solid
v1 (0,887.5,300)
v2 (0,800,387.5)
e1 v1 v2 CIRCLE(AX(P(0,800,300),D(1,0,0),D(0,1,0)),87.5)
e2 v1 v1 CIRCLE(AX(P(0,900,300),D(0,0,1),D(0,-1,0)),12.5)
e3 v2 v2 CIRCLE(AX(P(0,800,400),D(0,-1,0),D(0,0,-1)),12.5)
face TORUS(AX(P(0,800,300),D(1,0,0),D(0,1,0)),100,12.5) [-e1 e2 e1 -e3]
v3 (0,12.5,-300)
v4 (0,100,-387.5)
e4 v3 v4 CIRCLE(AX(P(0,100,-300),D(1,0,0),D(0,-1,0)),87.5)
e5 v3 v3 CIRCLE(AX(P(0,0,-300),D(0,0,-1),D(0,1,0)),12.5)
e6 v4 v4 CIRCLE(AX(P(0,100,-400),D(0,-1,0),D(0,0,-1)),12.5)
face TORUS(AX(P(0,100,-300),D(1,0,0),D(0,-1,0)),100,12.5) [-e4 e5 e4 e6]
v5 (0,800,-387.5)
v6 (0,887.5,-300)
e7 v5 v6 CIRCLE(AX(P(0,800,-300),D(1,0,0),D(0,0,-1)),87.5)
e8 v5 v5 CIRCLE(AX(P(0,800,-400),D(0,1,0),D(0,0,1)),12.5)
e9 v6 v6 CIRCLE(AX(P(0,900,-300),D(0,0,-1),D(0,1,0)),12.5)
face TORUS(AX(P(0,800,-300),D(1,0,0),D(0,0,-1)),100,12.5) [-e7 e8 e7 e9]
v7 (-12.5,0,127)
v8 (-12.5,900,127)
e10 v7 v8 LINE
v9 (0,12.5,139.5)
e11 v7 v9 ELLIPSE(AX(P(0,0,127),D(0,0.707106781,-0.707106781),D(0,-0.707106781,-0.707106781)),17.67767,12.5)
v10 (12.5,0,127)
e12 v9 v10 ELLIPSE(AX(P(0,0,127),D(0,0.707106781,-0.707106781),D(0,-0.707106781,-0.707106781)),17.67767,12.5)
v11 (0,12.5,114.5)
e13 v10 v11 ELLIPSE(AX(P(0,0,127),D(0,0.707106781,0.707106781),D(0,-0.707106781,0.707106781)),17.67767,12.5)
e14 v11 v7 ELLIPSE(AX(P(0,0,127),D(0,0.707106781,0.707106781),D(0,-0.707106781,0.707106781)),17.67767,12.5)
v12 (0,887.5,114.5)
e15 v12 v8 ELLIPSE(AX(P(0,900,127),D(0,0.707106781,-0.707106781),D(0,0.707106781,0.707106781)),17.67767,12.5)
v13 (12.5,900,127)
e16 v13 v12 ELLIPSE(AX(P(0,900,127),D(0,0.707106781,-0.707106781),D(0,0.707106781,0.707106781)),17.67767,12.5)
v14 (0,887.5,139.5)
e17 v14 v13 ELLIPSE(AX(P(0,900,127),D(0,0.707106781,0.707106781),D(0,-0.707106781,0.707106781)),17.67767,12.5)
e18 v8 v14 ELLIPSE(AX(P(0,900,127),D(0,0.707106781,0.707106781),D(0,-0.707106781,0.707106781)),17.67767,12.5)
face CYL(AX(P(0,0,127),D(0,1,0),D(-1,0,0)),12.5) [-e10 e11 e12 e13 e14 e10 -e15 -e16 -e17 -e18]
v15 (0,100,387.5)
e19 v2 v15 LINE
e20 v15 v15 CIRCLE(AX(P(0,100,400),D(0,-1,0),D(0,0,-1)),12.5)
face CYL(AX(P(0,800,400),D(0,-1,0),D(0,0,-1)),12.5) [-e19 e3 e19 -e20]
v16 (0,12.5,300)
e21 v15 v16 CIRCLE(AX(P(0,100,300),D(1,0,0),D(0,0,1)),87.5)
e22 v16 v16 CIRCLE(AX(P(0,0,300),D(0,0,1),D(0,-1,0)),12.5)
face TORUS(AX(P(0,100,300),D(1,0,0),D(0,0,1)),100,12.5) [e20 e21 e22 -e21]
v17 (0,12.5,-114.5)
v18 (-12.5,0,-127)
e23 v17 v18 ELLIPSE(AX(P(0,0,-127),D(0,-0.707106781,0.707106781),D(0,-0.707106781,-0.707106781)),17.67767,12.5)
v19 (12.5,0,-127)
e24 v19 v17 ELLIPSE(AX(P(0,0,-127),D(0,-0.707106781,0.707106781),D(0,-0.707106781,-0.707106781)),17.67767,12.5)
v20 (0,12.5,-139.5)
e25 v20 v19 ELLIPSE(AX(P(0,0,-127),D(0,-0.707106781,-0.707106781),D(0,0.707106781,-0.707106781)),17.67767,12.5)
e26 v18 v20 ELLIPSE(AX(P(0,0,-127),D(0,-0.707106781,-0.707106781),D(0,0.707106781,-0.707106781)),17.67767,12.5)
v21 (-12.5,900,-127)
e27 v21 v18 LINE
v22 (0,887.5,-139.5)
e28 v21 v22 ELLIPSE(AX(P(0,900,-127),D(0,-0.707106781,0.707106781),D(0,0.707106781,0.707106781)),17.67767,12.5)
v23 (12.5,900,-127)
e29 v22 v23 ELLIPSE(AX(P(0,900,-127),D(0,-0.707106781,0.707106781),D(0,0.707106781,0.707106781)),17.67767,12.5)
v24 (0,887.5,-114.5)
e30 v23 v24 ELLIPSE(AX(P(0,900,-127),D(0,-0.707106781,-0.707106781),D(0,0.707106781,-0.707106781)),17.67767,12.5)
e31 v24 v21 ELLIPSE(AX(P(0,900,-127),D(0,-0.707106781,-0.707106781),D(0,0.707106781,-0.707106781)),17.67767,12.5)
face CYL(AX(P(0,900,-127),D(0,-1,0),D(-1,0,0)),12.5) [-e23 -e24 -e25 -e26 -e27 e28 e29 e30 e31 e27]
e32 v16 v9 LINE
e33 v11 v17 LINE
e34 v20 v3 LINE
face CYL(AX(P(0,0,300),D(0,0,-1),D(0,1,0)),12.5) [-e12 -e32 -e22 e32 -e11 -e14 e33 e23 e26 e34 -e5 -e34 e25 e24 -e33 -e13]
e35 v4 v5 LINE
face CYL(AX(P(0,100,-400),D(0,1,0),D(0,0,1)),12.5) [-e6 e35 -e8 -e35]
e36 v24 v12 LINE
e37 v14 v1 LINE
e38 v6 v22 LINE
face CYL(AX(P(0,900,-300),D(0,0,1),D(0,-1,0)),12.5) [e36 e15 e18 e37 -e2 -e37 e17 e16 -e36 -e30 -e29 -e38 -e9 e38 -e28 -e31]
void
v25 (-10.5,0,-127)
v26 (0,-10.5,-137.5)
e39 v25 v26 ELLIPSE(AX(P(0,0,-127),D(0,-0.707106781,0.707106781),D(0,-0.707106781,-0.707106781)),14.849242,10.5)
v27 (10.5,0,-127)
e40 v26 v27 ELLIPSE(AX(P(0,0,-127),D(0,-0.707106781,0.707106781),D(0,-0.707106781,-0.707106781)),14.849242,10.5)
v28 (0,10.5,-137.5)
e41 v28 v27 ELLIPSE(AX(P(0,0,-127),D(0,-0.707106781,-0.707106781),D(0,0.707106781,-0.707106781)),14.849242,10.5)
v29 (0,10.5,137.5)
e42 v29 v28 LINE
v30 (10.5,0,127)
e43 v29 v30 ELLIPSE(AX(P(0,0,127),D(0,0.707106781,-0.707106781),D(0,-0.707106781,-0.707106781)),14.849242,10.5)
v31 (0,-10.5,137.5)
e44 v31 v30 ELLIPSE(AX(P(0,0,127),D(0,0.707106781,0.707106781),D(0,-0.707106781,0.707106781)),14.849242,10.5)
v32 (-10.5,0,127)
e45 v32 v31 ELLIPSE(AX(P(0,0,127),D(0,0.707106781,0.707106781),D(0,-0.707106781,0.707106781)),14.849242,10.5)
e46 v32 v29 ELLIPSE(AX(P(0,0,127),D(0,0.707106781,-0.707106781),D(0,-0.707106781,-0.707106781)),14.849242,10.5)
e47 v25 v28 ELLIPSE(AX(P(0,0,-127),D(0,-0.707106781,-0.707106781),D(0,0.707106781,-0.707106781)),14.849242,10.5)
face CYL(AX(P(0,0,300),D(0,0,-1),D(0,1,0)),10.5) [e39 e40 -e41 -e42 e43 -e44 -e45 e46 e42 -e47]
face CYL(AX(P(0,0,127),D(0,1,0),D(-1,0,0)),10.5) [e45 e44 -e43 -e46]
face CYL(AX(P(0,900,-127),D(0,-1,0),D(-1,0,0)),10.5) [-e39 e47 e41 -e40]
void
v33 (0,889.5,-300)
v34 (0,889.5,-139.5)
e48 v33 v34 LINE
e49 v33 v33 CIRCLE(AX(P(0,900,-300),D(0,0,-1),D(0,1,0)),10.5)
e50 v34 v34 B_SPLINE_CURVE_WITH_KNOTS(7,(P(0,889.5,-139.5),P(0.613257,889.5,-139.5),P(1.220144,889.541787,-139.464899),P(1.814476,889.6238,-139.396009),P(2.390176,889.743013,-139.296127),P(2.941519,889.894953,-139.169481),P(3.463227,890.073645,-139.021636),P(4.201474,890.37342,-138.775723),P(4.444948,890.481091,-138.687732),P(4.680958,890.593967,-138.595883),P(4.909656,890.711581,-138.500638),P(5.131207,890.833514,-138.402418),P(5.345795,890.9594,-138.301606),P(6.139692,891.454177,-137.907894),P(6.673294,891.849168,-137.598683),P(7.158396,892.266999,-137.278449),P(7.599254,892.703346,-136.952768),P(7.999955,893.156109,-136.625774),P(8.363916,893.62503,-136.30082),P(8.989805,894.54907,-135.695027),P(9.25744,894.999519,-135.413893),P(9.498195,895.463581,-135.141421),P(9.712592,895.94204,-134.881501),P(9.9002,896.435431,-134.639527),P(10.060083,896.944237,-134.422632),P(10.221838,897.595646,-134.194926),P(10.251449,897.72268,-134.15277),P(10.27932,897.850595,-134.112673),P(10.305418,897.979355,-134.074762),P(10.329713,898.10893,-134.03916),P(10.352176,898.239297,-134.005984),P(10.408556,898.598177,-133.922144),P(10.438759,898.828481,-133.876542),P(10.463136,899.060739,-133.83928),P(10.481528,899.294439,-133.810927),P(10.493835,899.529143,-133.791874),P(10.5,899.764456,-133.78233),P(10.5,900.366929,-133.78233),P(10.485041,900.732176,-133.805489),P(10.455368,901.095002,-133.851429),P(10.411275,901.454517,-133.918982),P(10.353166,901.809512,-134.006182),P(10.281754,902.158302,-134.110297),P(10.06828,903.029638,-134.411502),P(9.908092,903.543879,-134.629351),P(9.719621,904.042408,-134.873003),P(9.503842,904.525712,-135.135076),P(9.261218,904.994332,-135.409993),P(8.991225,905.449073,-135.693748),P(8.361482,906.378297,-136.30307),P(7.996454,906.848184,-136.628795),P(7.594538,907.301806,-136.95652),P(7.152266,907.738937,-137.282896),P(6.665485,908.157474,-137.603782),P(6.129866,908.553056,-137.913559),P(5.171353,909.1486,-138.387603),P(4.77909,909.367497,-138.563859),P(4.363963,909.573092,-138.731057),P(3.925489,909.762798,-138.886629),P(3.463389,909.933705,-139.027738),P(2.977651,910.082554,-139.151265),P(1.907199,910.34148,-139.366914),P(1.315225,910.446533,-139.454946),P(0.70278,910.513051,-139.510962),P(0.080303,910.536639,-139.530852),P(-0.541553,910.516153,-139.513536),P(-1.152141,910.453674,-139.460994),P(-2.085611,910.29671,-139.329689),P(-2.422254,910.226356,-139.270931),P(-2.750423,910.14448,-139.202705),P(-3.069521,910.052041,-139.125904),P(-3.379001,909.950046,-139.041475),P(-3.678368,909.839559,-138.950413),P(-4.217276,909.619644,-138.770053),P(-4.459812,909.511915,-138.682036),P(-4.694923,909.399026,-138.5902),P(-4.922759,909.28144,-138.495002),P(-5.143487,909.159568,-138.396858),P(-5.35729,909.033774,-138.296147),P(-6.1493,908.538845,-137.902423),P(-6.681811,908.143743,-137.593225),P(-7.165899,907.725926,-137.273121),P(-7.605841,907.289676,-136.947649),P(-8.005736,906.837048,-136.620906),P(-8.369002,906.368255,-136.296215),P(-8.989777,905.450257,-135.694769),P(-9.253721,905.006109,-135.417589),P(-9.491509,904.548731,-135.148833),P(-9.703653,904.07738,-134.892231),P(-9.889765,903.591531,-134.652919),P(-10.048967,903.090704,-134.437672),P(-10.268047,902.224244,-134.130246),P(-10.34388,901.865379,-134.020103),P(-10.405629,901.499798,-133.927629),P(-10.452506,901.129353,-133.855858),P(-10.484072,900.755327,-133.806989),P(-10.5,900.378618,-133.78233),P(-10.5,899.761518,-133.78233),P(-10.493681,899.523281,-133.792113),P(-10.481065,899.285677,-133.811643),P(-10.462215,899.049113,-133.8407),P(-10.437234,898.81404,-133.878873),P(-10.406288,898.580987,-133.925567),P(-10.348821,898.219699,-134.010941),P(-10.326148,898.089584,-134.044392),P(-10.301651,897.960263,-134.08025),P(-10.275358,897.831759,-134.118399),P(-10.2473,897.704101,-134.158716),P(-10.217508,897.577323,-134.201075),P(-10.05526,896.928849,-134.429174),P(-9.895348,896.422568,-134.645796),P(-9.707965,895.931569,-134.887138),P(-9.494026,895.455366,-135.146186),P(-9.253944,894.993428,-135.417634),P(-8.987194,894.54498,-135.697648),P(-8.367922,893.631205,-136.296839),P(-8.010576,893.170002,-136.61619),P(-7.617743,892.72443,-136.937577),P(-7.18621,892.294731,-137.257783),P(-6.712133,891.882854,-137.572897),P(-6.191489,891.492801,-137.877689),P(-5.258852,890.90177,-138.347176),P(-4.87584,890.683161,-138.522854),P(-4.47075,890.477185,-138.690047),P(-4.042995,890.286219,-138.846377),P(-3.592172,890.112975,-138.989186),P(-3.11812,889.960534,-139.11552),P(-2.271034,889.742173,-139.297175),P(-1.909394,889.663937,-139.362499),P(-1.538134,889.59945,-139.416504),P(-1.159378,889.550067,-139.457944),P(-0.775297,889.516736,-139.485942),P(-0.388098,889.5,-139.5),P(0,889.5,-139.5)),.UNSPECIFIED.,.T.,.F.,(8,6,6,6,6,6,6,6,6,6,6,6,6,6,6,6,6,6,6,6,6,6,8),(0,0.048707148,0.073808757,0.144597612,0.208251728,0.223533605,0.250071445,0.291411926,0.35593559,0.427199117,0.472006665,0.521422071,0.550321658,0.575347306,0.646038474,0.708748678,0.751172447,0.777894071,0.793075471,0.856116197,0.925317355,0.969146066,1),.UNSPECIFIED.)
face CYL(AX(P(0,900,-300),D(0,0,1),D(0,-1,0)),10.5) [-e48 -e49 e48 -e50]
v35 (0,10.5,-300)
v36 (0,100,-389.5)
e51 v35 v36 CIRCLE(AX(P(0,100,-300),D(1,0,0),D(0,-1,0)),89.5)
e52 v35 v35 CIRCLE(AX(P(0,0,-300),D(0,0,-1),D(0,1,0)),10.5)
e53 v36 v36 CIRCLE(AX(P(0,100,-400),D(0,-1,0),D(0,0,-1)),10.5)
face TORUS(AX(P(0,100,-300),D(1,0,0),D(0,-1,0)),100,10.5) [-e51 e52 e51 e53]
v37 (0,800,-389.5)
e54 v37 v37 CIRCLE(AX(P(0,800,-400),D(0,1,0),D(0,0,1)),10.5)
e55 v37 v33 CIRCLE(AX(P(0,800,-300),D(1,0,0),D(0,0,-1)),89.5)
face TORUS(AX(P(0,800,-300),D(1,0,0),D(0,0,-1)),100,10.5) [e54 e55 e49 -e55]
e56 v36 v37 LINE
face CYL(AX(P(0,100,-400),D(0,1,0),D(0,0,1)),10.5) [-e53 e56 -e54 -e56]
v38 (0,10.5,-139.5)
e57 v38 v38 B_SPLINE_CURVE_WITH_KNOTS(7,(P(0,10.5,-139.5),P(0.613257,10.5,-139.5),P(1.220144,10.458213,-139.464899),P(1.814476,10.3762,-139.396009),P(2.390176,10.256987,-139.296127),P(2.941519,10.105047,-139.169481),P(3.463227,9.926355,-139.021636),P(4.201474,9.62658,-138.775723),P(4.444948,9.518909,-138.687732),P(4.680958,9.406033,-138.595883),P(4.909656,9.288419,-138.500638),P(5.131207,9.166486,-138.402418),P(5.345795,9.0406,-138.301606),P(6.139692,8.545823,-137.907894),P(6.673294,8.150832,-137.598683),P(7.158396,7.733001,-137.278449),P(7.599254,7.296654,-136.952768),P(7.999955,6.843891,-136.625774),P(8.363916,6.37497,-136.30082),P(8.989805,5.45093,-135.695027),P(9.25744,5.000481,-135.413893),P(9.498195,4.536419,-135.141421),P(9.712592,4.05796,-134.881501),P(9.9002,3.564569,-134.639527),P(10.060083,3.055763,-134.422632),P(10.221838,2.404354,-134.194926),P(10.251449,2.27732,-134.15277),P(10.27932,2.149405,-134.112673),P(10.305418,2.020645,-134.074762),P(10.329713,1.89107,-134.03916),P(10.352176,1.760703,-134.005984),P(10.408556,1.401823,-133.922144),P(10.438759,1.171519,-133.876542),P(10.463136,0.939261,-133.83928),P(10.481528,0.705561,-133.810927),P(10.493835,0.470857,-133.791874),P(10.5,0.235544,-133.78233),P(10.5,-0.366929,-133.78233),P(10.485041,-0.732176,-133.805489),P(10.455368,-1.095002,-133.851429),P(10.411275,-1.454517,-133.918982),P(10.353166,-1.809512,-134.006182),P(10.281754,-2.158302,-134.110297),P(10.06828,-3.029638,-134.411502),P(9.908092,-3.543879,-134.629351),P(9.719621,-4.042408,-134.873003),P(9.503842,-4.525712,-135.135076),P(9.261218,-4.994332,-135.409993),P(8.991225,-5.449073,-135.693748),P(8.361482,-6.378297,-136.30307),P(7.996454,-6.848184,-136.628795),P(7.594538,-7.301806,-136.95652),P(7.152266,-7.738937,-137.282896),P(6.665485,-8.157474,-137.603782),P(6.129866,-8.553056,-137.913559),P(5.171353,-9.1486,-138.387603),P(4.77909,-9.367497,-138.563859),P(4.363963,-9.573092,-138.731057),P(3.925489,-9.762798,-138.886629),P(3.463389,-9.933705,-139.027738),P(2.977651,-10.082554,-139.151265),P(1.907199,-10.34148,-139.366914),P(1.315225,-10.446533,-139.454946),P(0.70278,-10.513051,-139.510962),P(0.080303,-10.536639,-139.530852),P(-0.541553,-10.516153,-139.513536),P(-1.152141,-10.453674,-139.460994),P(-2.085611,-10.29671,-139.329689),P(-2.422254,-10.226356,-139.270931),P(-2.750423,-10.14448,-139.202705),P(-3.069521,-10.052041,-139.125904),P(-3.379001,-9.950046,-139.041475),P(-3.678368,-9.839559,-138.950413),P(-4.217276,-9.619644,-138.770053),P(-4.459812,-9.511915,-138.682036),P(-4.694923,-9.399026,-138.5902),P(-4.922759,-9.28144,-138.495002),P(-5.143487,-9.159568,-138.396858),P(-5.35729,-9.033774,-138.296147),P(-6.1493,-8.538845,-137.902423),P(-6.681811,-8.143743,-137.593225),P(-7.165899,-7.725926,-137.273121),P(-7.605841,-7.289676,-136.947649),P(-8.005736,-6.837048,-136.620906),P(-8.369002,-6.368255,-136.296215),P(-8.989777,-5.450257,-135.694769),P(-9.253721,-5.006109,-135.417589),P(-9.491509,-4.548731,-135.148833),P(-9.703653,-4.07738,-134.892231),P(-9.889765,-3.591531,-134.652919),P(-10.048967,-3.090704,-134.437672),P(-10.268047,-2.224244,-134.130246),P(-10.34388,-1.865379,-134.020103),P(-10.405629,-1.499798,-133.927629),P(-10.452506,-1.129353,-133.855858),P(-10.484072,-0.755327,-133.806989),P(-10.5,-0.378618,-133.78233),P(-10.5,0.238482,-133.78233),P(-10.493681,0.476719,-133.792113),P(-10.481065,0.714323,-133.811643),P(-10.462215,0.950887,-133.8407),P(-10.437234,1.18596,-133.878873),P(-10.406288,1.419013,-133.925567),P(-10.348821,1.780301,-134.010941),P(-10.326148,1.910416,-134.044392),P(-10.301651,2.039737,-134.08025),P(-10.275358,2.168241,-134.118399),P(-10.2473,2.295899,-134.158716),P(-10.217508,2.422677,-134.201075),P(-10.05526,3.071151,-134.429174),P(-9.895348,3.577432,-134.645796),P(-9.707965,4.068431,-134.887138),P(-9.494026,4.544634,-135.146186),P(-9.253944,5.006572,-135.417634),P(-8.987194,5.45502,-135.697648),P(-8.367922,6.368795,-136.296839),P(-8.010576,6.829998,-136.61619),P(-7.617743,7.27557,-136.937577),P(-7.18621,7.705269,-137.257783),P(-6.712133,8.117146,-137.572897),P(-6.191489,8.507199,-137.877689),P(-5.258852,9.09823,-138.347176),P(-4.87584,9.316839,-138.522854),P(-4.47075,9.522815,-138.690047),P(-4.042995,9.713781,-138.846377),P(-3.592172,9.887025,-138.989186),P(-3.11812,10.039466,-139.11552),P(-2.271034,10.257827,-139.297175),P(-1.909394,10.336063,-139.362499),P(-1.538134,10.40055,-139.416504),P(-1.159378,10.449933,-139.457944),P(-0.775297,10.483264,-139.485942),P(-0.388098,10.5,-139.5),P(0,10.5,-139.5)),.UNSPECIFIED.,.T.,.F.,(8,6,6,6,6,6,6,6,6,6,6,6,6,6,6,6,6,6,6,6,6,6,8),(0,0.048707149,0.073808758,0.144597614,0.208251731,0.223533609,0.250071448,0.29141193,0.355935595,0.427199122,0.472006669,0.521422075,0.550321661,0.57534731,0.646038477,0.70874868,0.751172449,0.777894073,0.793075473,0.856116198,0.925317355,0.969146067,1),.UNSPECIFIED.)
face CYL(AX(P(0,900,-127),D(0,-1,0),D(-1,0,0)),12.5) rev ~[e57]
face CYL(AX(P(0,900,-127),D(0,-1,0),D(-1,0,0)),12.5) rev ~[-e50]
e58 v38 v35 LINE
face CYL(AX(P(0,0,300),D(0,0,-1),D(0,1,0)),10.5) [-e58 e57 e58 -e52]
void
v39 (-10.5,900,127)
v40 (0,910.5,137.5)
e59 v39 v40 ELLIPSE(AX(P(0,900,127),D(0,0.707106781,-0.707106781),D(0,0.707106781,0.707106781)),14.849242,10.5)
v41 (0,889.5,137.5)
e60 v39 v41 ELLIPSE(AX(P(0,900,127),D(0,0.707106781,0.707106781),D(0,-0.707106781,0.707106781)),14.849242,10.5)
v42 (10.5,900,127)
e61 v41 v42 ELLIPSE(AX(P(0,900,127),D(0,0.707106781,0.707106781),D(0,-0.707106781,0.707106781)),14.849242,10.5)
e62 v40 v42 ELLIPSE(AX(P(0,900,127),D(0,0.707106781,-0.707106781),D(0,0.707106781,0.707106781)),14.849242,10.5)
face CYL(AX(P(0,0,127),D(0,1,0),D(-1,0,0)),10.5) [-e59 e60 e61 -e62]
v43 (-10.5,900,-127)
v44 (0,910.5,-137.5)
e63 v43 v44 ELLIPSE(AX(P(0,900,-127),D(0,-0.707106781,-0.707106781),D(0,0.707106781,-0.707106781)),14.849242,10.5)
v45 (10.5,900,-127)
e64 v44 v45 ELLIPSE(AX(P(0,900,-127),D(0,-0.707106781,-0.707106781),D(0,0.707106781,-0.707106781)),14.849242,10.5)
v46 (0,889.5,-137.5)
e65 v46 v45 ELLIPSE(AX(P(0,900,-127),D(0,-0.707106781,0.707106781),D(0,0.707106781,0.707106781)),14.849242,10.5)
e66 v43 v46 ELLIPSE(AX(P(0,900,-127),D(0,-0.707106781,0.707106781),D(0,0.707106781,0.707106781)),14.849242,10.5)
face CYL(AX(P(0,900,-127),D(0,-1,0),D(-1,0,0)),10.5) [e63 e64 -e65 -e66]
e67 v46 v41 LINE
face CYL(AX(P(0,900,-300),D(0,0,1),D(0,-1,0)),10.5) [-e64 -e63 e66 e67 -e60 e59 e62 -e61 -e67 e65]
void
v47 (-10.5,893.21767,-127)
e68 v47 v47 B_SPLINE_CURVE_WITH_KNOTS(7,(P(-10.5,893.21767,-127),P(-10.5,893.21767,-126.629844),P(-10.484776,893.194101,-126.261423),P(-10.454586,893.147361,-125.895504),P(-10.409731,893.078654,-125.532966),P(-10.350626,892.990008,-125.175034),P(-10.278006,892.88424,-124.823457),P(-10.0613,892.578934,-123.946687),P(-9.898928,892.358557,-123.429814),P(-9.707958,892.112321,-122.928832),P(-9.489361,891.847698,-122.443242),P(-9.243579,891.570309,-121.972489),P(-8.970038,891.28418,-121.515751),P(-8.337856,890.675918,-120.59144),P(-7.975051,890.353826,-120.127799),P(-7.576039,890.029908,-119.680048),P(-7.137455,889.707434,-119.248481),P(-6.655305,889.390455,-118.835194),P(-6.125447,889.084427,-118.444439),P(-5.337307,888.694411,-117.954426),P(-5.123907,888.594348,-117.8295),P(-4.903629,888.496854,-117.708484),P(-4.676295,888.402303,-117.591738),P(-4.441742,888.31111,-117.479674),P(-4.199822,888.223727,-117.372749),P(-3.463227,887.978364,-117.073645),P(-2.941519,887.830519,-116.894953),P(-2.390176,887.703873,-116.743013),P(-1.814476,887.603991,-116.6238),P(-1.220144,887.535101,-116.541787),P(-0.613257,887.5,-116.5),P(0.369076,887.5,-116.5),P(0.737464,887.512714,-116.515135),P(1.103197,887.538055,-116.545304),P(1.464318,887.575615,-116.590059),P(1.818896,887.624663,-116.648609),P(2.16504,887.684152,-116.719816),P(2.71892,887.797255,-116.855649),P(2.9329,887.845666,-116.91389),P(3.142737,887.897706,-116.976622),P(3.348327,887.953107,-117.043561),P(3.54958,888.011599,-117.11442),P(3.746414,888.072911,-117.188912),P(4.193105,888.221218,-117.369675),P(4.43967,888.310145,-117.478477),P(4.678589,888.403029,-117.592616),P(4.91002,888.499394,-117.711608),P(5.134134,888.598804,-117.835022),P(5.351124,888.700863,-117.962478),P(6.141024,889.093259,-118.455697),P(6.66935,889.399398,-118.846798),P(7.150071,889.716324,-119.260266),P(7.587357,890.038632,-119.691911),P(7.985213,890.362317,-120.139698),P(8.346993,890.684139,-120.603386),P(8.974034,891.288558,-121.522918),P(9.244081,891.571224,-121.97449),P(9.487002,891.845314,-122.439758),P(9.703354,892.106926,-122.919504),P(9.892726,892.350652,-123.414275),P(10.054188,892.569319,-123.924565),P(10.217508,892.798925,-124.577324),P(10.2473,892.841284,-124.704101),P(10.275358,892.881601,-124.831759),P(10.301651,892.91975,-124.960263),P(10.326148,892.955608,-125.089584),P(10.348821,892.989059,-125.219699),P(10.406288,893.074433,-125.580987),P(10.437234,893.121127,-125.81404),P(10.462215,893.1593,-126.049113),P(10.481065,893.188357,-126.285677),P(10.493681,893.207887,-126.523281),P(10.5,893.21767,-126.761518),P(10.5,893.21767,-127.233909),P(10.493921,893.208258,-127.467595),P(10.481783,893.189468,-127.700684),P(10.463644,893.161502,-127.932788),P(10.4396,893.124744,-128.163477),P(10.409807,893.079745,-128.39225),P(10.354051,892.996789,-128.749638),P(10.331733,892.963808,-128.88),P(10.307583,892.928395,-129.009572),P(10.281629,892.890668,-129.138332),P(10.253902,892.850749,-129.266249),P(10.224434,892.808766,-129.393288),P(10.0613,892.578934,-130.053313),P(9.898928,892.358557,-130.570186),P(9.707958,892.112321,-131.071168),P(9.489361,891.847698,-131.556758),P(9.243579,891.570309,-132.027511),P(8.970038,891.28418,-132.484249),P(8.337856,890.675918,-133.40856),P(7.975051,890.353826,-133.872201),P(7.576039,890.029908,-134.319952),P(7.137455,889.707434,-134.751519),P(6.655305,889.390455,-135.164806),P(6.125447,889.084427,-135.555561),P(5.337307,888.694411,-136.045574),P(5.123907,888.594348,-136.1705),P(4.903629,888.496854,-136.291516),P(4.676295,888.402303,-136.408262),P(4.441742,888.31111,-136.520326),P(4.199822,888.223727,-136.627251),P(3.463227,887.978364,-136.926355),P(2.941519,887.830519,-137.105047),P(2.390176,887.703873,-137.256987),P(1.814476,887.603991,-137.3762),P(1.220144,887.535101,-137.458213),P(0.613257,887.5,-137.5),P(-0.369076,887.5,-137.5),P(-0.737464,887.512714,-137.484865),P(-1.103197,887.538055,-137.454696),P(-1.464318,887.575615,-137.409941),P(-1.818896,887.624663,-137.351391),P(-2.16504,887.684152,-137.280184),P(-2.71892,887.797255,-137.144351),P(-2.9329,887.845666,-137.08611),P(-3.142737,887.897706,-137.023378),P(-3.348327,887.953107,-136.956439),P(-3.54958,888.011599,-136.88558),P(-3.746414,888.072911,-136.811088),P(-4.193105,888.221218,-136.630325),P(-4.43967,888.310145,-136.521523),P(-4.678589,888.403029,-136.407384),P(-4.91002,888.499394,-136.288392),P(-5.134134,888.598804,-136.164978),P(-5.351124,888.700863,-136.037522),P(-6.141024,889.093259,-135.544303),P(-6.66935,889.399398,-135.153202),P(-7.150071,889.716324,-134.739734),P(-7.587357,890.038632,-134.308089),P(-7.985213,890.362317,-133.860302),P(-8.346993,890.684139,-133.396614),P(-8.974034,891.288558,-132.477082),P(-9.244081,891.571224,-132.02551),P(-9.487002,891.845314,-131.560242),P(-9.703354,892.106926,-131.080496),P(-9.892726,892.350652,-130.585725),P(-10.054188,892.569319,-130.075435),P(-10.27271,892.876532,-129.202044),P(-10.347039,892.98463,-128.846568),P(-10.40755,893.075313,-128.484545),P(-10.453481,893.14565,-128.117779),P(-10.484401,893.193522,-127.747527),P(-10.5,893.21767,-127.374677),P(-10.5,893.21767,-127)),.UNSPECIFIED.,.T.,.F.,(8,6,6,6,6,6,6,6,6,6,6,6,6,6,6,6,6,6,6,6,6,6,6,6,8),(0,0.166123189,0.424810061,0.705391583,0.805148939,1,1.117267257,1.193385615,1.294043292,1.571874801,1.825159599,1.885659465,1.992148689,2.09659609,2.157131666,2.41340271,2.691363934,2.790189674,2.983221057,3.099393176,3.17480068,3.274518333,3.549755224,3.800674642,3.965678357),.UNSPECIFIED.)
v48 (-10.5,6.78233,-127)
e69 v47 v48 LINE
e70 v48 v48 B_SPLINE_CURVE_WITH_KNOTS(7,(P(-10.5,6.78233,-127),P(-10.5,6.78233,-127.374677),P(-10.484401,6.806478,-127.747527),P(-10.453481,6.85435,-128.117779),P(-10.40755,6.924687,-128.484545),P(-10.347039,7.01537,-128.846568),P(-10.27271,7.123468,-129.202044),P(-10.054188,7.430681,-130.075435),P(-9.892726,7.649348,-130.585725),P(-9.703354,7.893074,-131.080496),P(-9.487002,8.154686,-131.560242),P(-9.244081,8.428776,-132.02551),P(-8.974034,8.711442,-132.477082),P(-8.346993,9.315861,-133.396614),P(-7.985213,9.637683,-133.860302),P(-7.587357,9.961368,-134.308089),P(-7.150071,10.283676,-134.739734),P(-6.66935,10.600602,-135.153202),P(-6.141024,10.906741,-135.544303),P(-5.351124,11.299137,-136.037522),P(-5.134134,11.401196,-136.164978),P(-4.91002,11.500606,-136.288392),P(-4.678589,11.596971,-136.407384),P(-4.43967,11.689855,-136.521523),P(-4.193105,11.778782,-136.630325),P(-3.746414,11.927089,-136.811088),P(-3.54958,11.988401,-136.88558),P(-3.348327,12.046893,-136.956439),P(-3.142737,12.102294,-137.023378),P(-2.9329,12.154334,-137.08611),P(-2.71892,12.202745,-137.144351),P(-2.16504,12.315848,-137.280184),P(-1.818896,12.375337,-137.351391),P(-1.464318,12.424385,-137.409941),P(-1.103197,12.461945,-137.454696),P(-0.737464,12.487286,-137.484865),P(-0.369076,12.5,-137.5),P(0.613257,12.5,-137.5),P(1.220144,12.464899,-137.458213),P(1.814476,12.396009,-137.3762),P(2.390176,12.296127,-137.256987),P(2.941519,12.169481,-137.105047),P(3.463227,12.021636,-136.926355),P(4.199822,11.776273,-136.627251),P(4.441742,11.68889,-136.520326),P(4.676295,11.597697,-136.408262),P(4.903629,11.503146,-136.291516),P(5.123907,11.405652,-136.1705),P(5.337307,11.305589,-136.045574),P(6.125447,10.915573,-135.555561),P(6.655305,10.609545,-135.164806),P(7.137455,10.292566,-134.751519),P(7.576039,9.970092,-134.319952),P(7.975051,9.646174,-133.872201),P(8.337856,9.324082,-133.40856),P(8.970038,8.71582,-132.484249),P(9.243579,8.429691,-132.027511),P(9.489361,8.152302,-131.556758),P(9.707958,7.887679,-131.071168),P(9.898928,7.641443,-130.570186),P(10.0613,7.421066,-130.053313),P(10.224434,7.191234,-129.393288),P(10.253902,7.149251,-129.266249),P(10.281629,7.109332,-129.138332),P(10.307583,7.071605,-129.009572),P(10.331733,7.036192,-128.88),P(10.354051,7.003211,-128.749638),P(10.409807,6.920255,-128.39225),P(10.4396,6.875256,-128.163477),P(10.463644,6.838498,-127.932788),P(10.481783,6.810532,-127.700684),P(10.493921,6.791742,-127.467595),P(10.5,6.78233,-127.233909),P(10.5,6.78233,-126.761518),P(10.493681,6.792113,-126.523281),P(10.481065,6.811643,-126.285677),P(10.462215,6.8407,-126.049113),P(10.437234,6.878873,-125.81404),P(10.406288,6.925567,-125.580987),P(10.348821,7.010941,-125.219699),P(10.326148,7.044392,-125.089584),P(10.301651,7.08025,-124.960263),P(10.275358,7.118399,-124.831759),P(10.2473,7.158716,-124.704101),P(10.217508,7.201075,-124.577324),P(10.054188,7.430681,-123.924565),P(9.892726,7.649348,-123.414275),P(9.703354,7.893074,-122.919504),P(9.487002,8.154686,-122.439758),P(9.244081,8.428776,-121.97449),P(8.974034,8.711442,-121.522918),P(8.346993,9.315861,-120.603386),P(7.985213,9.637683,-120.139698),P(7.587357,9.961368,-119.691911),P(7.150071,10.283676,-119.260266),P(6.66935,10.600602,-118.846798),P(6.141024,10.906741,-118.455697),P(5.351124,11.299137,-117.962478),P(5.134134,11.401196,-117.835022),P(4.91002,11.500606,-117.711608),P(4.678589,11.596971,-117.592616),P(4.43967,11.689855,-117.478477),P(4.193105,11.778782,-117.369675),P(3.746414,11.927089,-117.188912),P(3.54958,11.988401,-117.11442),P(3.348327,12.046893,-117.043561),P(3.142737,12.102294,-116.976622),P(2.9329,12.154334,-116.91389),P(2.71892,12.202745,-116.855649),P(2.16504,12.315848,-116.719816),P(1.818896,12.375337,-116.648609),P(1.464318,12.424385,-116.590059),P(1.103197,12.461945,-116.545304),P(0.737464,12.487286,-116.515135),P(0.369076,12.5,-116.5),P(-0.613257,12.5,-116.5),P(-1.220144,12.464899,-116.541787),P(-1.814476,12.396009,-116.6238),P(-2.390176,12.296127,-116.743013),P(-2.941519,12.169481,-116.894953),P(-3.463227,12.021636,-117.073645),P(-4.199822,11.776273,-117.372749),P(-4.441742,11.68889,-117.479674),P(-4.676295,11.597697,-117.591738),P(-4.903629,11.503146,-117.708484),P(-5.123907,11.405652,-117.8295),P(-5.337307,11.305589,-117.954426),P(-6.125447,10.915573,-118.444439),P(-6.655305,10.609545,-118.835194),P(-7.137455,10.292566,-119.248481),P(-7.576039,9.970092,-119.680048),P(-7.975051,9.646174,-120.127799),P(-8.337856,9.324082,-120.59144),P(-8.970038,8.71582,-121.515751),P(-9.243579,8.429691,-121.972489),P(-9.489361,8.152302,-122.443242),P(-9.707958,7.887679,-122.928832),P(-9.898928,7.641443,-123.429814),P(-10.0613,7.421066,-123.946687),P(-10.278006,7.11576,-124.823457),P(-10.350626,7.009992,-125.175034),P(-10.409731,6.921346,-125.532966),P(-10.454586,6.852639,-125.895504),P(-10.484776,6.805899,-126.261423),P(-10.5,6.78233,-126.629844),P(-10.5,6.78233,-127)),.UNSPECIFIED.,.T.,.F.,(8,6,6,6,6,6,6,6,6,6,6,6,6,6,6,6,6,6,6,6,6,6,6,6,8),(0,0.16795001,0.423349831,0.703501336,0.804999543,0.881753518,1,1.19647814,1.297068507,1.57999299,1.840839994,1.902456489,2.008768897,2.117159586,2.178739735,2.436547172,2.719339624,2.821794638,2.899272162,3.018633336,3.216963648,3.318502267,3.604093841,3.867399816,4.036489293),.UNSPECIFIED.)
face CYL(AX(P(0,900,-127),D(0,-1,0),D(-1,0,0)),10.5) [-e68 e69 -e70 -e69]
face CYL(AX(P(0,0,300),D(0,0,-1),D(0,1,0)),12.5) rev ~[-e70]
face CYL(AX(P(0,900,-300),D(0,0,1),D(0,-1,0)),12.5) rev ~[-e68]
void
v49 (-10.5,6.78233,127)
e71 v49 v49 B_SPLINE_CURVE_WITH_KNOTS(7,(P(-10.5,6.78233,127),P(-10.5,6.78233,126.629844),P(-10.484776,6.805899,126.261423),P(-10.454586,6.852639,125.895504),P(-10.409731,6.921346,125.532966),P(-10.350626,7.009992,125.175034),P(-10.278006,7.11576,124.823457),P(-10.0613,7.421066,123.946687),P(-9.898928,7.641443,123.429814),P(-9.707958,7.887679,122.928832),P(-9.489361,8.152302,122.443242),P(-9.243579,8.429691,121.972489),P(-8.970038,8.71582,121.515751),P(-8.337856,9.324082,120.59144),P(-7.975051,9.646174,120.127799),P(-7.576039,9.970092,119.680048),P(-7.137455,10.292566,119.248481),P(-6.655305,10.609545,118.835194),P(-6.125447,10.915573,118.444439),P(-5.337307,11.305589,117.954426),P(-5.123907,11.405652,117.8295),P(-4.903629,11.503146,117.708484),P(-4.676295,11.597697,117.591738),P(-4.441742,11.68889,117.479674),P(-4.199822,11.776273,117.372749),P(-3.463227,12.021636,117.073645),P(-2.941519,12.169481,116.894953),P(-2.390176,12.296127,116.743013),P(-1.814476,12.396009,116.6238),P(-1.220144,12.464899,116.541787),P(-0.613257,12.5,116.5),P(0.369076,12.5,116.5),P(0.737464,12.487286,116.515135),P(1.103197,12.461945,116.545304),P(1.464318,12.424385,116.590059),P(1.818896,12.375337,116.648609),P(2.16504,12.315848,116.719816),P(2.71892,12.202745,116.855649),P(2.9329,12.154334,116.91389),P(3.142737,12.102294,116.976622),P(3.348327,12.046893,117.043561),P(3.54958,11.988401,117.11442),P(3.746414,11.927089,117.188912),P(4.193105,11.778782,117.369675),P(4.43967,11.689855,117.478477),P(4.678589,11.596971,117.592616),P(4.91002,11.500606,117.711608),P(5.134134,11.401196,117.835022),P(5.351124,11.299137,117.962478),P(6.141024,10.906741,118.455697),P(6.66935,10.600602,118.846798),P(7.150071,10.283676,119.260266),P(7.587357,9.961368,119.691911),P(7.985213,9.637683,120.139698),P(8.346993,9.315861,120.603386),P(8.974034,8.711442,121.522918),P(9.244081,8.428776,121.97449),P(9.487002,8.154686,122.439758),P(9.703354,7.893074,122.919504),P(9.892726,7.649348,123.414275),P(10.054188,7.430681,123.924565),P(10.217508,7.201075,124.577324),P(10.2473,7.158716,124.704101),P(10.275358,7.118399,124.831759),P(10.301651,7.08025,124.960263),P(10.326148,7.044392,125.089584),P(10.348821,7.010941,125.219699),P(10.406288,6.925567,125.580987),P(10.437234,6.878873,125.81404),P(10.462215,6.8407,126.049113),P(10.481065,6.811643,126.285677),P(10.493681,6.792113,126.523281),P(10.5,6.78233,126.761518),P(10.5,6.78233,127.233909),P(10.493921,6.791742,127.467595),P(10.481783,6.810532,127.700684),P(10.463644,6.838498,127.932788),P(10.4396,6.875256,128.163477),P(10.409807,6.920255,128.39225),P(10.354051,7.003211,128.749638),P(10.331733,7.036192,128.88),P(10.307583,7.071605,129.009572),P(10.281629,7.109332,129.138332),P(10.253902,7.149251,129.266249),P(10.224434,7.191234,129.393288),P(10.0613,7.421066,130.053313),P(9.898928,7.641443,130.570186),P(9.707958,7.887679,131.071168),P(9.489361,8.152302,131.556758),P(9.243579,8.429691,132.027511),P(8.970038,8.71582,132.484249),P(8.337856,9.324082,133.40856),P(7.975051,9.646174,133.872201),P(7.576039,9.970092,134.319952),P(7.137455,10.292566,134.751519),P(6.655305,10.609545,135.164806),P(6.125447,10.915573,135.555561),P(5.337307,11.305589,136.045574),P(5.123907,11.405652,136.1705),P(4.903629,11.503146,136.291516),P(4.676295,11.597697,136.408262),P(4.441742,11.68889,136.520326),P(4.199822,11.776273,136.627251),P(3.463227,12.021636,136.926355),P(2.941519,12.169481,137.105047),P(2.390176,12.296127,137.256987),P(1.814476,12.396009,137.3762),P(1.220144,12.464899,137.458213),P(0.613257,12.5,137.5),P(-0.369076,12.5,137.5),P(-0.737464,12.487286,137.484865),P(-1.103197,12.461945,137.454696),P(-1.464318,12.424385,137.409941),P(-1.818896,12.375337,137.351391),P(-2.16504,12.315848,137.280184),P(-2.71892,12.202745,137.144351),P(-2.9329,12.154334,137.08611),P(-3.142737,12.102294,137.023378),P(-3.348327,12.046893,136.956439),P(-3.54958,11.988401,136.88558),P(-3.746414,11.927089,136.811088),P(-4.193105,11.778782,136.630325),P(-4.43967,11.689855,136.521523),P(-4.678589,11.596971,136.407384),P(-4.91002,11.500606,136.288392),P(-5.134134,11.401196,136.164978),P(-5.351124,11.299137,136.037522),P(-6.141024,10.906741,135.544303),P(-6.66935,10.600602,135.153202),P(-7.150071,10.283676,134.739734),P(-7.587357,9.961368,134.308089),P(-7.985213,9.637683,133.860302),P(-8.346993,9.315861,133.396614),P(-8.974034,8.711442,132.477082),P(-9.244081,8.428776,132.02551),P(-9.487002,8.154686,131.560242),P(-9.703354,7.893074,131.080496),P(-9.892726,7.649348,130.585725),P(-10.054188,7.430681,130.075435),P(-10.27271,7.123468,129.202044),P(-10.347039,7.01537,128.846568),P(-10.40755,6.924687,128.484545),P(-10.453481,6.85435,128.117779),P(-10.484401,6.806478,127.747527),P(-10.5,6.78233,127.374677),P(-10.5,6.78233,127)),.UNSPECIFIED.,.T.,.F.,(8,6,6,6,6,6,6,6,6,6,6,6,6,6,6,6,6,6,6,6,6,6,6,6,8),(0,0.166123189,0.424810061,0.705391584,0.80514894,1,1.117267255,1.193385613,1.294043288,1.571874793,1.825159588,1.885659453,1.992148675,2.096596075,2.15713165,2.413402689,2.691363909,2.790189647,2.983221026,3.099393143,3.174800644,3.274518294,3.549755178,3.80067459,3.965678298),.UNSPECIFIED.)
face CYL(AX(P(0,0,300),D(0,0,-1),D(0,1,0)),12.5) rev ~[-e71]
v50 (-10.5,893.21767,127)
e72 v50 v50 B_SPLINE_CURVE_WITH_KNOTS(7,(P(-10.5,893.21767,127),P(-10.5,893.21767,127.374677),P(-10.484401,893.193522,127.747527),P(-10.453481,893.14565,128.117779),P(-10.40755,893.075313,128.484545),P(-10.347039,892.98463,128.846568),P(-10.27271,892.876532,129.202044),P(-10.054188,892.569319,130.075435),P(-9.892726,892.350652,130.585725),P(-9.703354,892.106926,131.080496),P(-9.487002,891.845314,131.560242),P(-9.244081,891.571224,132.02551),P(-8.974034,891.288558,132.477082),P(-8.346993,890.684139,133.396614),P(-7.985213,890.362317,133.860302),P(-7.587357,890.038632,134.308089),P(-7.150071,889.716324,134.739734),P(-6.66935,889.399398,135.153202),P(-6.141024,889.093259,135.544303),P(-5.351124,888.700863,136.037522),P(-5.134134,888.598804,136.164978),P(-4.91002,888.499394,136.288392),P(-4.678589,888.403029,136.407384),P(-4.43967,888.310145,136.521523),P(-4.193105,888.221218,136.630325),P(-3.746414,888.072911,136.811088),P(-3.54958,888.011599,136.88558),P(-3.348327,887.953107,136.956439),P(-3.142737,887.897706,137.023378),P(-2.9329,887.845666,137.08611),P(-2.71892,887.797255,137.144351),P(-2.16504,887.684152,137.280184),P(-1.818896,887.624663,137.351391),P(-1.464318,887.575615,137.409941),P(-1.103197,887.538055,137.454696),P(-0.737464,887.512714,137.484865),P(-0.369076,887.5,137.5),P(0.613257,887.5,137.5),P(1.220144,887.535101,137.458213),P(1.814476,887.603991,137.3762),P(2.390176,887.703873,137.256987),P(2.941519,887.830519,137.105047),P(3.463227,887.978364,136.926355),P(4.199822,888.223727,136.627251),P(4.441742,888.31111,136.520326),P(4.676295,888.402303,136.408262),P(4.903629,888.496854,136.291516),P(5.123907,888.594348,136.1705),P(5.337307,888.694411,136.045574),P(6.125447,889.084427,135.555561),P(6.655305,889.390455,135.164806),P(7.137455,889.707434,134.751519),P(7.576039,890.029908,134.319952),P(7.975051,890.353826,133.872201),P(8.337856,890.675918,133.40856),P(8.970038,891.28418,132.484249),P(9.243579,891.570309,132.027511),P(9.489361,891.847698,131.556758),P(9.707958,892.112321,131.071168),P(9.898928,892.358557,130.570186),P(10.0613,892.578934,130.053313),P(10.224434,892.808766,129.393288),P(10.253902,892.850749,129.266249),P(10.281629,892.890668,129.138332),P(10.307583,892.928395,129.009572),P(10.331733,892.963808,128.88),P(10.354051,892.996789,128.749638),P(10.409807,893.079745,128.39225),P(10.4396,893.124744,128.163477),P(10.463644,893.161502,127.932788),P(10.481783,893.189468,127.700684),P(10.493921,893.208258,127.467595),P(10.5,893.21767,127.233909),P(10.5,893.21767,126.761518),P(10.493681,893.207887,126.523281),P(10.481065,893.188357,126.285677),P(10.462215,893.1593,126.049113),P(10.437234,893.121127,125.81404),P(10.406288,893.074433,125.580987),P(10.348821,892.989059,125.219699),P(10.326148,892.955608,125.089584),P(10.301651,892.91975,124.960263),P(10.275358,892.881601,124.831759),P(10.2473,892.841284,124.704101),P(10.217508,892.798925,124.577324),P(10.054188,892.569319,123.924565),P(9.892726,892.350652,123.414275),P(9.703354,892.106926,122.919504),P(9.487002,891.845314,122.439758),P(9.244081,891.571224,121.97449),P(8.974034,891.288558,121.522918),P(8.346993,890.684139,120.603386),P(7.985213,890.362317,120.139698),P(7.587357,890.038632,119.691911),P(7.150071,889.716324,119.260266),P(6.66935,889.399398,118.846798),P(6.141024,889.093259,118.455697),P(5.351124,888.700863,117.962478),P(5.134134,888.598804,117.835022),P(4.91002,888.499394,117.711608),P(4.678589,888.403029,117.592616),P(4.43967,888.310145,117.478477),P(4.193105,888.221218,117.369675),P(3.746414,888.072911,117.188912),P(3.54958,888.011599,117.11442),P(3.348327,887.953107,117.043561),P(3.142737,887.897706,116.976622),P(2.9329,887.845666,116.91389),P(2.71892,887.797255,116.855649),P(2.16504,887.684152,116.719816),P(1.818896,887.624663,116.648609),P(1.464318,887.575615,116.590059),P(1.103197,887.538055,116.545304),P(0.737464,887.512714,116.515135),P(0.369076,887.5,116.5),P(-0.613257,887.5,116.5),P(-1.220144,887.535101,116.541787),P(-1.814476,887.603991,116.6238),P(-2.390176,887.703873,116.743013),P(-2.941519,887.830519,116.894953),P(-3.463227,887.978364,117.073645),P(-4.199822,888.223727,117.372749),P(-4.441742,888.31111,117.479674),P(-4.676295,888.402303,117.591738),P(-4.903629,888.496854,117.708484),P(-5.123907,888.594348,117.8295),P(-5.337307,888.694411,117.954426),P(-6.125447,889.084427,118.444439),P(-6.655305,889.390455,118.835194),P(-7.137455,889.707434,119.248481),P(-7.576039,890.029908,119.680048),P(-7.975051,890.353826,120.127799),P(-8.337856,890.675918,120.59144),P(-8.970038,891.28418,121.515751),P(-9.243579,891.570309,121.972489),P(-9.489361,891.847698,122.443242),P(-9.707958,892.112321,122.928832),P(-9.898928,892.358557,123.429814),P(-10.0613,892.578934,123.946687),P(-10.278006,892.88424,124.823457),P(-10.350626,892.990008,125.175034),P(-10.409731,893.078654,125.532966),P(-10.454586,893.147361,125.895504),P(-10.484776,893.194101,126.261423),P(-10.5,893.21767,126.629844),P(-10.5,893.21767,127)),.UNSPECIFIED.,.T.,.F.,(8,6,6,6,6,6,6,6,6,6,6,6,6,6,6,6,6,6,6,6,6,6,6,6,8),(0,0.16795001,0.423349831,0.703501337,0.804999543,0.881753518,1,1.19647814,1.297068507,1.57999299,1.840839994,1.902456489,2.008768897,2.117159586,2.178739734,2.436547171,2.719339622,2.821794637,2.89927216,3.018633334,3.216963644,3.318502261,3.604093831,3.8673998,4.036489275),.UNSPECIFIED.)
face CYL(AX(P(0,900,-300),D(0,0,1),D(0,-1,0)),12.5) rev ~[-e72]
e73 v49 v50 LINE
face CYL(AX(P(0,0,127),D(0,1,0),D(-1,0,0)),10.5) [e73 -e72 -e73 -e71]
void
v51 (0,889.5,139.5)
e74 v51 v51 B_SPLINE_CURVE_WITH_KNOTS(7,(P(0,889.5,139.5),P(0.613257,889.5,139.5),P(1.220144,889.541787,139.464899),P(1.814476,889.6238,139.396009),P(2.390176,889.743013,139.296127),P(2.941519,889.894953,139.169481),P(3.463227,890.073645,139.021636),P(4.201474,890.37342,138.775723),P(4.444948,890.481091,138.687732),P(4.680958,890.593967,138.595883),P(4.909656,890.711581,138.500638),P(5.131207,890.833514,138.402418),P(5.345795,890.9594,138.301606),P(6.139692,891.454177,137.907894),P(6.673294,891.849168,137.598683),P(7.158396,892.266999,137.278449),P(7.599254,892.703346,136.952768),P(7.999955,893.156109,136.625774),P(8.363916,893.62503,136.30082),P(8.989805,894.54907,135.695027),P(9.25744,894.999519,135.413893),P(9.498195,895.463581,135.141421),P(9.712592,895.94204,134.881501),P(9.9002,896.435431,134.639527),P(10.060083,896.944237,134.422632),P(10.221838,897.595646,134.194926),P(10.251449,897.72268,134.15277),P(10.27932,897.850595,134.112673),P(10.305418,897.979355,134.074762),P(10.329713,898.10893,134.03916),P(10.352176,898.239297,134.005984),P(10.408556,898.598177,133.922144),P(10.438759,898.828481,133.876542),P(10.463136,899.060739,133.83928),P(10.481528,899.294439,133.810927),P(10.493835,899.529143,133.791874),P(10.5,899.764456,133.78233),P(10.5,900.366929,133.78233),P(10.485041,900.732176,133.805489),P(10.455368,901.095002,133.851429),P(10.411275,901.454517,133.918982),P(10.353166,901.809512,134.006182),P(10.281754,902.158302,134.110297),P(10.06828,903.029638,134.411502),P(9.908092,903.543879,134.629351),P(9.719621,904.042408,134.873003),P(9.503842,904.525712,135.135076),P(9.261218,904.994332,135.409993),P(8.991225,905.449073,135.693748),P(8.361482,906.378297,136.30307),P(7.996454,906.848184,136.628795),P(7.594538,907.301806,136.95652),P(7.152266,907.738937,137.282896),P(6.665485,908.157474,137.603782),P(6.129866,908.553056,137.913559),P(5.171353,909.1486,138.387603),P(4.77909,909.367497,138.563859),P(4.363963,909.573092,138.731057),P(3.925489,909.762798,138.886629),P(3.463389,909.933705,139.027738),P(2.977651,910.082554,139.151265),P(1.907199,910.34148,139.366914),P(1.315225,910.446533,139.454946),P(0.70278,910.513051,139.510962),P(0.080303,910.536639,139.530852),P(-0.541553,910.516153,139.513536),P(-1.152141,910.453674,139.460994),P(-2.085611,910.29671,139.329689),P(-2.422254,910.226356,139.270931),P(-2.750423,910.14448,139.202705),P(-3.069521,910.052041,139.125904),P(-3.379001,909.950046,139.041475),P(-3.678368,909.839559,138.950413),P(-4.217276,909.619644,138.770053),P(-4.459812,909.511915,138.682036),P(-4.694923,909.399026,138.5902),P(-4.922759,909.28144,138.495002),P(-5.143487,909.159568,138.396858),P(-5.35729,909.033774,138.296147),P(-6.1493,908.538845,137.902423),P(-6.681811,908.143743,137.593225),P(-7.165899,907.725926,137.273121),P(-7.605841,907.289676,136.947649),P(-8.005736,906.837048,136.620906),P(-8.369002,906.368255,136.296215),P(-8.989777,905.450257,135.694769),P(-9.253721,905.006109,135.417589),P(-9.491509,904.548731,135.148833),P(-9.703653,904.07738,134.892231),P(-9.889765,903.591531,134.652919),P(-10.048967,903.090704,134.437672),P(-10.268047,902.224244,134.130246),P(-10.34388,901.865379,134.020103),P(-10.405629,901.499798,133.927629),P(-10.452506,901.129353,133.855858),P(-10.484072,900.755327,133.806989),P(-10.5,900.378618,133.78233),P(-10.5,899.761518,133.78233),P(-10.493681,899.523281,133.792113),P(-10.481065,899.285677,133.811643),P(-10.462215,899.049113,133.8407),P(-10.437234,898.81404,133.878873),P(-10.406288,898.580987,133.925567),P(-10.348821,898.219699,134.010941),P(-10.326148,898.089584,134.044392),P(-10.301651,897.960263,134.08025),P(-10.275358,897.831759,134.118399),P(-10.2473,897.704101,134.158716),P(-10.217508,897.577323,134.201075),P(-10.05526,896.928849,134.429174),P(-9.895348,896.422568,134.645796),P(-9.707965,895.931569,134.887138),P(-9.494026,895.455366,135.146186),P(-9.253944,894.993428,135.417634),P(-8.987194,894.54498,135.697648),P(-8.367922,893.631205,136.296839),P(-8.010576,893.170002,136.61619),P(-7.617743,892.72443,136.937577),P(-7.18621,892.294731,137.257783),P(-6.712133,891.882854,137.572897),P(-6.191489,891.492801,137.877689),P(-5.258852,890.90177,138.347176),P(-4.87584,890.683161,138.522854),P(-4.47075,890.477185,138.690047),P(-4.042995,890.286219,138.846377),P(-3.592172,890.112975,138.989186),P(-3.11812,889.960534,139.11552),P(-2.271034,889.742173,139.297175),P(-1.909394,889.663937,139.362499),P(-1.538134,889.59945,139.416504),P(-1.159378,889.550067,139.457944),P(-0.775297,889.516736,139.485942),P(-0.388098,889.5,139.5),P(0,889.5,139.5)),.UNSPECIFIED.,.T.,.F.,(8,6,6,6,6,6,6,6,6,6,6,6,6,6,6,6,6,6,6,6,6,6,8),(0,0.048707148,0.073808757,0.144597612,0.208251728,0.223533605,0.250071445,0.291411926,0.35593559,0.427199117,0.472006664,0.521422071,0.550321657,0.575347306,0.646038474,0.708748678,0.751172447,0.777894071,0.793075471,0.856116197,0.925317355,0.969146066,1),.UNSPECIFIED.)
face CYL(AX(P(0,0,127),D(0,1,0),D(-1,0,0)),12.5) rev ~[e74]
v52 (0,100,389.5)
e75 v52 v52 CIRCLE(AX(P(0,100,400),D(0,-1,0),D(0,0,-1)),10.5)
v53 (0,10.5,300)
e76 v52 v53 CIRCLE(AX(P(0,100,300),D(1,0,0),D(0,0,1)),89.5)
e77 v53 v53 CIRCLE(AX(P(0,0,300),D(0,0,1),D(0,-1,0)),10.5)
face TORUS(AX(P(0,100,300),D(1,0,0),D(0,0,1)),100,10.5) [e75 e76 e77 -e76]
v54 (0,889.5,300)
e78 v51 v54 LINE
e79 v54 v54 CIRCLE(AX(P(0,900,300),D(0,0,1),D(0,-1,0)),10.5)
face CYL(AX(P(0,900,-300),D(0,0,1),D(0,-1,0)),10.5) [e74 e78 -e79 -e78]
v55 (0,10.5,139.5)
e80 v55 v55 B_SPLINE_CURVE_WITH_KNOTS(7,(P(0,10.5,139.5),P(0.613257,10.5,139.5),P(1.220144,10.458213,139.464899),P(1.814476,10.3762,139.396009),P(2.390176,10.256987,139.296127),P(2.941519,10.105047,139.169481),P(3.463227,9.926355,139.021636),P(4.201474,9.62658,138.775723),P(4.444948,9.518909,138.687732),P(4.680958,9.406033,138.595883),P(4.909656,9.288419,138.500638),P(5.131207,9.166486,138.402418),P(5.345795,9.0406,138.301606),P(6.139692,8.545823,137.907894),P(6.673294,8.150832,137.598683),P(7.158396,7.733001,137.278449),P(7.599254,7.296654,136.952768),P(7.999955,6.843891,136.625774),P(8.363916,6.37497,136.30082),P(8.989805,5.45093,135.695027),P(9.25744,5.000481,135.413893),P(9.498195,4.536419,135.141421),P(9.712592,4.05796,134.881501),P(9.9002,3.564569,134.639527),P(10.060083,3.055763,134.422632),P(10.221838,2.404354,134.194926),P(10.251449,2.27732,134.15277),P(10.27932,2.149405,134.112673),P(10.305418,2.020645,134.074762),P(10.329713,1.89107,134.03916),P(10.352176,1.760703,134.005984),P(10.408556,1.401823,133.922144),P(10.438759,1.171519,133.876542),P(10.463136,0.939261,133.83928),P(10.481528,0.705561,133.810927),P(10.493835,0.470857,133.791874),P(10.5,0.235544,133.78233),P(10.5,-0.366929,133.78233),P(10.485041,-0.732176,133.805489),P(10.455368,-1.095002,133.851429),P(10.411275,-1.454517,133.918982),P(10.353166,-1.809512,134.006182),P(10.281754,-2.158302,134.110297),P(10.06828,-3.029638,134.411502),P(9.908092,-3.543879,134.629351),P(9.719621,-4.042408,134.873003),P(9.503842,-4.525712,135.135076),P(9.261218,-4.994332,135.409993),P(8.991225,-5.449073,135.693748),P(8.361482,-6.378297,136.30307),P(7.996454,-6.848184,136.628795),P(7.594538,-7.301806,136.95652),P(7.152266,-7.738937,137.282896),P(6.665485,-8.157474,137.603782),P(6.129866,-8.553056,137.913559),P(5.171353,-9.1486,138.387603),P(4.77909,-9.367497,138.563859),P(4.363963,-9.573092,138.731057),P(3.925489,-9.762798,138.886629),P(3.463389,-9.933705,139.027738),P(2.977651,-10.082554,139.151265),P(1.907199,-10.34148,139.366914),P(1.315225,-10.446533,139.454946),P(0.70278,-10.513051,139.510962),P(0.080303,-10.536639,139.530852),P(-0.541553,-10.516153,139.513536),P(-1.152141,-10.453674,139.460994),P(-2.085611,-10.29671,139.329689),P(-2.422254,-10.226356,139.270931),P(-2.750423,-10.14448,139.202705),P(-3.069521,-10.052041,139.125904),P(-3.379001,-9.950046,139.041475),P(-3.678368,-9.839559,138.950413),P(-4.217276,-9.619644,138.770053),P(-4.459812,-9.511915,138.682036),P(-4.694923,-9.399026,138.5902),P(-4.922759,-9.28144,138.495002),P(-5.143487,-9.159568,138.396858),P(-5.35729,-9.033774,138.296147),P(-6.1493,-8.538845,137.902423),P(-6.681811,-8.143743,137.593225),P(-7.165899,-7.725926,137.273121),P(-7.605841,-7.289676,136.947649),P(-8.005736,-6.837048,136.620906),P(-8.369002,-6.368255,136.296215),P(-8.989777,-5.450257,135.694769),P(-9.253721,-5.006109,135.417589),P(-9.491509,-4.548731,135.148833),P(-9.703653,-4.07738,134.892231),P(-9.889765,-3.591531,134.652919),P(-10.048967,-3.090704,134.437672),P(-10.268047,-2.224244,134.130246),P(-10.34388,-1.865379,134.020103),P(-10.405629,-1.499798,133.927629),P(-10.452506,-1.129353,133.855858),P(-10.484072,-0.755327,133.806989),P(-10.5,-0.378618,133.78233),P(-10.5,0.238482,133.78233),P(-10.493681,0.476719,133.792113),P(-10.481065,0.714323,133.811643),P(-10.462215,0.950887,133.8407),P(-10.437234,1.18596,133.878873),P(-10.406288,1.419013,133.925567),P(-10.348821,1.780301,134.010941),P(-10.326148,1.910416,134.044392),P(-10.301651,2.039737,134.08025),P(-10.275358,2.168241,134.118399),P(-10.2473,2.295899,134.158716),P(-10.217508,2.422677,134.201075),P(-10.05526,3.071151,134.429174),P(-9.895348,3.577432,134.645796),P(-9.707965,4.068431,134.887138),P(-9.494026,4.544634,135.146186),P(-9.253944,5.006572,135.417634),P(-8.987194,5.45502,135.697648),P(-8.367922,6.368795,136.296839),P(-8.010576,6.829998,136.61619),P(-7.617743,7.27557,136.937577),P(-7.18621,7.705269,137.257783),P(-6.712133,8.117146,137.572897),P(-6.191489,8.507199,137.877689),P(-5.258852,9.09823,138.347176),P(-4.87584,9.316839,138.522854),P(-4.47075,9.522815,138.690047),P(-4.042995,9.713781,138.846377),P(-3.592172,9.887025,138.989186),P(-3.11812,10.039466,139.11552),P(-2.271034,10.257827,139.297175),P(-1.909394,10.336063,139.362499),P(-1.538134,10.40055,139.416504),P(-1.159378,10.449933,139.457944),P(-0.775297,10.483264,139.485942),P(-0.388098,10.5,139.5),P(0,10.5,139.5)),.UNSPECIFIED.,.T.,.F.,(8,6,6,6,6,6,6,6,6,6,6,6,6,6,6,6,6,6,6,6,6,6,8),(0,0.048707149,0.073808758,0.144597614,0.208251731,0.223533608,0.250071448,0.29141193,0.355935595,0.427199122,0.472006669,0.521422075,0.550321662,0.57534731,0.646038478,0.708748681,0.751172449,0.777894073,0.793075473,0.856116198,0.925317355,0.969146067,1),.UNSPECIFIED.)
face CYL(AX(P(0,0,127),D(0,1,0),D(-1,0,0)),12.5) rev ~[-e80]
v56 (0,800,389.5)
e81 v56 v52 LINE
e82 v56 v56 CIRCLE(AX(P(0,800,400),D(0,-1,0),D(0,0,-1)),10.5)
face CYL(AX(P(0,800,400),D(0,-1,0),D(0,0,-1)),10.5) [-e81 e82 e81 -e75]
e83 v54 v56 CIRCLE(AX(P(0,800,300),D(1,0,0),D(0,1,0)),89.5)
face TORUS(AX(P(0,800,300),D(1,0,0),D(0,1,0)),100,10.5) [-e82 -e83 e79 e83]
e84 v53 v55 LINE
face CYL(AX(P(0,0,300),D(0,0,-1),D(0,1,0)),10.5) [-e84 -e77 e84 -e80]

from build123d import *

# Parameters (mm, degrees)
SWEEP_THIN1_PROFILE_R   = 12.5
SWEEP_THIN1_PROFILE_R_2 = 10.5
SWEEP_THIN3_PROFILE_R   = 12.5
SWEEP_THIN3_PROFILE_R_2 = 10.5


with BuildPart() as part:
    # Sweep-Thin1: sweep along a path in Sketch1
    with BuildLine(Plane(origin=(0, 0, 0), x_dir=(0, 0, -1), z_dir=(1, 0, 0))) as sweep_thin1_path:
        Line((-400, 800), (-400, 100))
        ThreePointArc((-400, 100), (-370.710678119, 29.289321881), (-300, 0))
        Line((-300, 0), (300, 0))
        ThreePointArc((300, 0), (370.710678119, 29.289321881), (400, 100))
        Line((400, 100), (400, 800))
        ThreePointArc((400, 800), (370.710678119, 870.710678119), (300, 900))
        Line((300, 900), (-300, 900))
        ThreePointArc((-300, 900), (-370.710678119, 870.710678119), (-400, 800))
    # Sweep-Thin1 profile (on start of the path) → Sweep-Thin1 (sweep)
    with BuildSketch(Plane(origin=(0, 800, 400), x_dir=(0, 0, -1), z_dir=(0, -1, 0))):
        Circle(SWEEP_THIN1_PROFILE_R)
        Circle(SWEEP_THIN1_PROFILE_R_2, mode=Mode.SUBTRACT)
    sweep(path=sweep_thin1_path.line)

    # Sweep-Thin3: sweep along a path in Sketch27
    with BuildLine(Plane(origin=(0, 0, 0), x_dir=(0, 0, -1), z_dir=(1, 0, 0))) as sweep_thin3_path:
        Line((-127, 900), (127, 900))
        Line((127, 900), (127, 0))
        Line((127, 0), (-127, 0))
        Line((-127, 0), (-127, 900))
    # Sweep-Thin3 profile (on start of the path) → Sweep-Thin3 (sweep)
    with BuildSketch(Plane(origin=(0, 900, 127), x_dir=(-1, 0, 0), z_dir=(0, 0, -1))):
        Circle(SWEEP_THIN3_PROFILE_R)
        Circle(SWEEP_THIN3_PROFILE_R_2, mode=Mode.SUBTRACT)
    sweep(path=sweep_thin3_path.line, transition=Transition.RIGHT)


solid = part.part
